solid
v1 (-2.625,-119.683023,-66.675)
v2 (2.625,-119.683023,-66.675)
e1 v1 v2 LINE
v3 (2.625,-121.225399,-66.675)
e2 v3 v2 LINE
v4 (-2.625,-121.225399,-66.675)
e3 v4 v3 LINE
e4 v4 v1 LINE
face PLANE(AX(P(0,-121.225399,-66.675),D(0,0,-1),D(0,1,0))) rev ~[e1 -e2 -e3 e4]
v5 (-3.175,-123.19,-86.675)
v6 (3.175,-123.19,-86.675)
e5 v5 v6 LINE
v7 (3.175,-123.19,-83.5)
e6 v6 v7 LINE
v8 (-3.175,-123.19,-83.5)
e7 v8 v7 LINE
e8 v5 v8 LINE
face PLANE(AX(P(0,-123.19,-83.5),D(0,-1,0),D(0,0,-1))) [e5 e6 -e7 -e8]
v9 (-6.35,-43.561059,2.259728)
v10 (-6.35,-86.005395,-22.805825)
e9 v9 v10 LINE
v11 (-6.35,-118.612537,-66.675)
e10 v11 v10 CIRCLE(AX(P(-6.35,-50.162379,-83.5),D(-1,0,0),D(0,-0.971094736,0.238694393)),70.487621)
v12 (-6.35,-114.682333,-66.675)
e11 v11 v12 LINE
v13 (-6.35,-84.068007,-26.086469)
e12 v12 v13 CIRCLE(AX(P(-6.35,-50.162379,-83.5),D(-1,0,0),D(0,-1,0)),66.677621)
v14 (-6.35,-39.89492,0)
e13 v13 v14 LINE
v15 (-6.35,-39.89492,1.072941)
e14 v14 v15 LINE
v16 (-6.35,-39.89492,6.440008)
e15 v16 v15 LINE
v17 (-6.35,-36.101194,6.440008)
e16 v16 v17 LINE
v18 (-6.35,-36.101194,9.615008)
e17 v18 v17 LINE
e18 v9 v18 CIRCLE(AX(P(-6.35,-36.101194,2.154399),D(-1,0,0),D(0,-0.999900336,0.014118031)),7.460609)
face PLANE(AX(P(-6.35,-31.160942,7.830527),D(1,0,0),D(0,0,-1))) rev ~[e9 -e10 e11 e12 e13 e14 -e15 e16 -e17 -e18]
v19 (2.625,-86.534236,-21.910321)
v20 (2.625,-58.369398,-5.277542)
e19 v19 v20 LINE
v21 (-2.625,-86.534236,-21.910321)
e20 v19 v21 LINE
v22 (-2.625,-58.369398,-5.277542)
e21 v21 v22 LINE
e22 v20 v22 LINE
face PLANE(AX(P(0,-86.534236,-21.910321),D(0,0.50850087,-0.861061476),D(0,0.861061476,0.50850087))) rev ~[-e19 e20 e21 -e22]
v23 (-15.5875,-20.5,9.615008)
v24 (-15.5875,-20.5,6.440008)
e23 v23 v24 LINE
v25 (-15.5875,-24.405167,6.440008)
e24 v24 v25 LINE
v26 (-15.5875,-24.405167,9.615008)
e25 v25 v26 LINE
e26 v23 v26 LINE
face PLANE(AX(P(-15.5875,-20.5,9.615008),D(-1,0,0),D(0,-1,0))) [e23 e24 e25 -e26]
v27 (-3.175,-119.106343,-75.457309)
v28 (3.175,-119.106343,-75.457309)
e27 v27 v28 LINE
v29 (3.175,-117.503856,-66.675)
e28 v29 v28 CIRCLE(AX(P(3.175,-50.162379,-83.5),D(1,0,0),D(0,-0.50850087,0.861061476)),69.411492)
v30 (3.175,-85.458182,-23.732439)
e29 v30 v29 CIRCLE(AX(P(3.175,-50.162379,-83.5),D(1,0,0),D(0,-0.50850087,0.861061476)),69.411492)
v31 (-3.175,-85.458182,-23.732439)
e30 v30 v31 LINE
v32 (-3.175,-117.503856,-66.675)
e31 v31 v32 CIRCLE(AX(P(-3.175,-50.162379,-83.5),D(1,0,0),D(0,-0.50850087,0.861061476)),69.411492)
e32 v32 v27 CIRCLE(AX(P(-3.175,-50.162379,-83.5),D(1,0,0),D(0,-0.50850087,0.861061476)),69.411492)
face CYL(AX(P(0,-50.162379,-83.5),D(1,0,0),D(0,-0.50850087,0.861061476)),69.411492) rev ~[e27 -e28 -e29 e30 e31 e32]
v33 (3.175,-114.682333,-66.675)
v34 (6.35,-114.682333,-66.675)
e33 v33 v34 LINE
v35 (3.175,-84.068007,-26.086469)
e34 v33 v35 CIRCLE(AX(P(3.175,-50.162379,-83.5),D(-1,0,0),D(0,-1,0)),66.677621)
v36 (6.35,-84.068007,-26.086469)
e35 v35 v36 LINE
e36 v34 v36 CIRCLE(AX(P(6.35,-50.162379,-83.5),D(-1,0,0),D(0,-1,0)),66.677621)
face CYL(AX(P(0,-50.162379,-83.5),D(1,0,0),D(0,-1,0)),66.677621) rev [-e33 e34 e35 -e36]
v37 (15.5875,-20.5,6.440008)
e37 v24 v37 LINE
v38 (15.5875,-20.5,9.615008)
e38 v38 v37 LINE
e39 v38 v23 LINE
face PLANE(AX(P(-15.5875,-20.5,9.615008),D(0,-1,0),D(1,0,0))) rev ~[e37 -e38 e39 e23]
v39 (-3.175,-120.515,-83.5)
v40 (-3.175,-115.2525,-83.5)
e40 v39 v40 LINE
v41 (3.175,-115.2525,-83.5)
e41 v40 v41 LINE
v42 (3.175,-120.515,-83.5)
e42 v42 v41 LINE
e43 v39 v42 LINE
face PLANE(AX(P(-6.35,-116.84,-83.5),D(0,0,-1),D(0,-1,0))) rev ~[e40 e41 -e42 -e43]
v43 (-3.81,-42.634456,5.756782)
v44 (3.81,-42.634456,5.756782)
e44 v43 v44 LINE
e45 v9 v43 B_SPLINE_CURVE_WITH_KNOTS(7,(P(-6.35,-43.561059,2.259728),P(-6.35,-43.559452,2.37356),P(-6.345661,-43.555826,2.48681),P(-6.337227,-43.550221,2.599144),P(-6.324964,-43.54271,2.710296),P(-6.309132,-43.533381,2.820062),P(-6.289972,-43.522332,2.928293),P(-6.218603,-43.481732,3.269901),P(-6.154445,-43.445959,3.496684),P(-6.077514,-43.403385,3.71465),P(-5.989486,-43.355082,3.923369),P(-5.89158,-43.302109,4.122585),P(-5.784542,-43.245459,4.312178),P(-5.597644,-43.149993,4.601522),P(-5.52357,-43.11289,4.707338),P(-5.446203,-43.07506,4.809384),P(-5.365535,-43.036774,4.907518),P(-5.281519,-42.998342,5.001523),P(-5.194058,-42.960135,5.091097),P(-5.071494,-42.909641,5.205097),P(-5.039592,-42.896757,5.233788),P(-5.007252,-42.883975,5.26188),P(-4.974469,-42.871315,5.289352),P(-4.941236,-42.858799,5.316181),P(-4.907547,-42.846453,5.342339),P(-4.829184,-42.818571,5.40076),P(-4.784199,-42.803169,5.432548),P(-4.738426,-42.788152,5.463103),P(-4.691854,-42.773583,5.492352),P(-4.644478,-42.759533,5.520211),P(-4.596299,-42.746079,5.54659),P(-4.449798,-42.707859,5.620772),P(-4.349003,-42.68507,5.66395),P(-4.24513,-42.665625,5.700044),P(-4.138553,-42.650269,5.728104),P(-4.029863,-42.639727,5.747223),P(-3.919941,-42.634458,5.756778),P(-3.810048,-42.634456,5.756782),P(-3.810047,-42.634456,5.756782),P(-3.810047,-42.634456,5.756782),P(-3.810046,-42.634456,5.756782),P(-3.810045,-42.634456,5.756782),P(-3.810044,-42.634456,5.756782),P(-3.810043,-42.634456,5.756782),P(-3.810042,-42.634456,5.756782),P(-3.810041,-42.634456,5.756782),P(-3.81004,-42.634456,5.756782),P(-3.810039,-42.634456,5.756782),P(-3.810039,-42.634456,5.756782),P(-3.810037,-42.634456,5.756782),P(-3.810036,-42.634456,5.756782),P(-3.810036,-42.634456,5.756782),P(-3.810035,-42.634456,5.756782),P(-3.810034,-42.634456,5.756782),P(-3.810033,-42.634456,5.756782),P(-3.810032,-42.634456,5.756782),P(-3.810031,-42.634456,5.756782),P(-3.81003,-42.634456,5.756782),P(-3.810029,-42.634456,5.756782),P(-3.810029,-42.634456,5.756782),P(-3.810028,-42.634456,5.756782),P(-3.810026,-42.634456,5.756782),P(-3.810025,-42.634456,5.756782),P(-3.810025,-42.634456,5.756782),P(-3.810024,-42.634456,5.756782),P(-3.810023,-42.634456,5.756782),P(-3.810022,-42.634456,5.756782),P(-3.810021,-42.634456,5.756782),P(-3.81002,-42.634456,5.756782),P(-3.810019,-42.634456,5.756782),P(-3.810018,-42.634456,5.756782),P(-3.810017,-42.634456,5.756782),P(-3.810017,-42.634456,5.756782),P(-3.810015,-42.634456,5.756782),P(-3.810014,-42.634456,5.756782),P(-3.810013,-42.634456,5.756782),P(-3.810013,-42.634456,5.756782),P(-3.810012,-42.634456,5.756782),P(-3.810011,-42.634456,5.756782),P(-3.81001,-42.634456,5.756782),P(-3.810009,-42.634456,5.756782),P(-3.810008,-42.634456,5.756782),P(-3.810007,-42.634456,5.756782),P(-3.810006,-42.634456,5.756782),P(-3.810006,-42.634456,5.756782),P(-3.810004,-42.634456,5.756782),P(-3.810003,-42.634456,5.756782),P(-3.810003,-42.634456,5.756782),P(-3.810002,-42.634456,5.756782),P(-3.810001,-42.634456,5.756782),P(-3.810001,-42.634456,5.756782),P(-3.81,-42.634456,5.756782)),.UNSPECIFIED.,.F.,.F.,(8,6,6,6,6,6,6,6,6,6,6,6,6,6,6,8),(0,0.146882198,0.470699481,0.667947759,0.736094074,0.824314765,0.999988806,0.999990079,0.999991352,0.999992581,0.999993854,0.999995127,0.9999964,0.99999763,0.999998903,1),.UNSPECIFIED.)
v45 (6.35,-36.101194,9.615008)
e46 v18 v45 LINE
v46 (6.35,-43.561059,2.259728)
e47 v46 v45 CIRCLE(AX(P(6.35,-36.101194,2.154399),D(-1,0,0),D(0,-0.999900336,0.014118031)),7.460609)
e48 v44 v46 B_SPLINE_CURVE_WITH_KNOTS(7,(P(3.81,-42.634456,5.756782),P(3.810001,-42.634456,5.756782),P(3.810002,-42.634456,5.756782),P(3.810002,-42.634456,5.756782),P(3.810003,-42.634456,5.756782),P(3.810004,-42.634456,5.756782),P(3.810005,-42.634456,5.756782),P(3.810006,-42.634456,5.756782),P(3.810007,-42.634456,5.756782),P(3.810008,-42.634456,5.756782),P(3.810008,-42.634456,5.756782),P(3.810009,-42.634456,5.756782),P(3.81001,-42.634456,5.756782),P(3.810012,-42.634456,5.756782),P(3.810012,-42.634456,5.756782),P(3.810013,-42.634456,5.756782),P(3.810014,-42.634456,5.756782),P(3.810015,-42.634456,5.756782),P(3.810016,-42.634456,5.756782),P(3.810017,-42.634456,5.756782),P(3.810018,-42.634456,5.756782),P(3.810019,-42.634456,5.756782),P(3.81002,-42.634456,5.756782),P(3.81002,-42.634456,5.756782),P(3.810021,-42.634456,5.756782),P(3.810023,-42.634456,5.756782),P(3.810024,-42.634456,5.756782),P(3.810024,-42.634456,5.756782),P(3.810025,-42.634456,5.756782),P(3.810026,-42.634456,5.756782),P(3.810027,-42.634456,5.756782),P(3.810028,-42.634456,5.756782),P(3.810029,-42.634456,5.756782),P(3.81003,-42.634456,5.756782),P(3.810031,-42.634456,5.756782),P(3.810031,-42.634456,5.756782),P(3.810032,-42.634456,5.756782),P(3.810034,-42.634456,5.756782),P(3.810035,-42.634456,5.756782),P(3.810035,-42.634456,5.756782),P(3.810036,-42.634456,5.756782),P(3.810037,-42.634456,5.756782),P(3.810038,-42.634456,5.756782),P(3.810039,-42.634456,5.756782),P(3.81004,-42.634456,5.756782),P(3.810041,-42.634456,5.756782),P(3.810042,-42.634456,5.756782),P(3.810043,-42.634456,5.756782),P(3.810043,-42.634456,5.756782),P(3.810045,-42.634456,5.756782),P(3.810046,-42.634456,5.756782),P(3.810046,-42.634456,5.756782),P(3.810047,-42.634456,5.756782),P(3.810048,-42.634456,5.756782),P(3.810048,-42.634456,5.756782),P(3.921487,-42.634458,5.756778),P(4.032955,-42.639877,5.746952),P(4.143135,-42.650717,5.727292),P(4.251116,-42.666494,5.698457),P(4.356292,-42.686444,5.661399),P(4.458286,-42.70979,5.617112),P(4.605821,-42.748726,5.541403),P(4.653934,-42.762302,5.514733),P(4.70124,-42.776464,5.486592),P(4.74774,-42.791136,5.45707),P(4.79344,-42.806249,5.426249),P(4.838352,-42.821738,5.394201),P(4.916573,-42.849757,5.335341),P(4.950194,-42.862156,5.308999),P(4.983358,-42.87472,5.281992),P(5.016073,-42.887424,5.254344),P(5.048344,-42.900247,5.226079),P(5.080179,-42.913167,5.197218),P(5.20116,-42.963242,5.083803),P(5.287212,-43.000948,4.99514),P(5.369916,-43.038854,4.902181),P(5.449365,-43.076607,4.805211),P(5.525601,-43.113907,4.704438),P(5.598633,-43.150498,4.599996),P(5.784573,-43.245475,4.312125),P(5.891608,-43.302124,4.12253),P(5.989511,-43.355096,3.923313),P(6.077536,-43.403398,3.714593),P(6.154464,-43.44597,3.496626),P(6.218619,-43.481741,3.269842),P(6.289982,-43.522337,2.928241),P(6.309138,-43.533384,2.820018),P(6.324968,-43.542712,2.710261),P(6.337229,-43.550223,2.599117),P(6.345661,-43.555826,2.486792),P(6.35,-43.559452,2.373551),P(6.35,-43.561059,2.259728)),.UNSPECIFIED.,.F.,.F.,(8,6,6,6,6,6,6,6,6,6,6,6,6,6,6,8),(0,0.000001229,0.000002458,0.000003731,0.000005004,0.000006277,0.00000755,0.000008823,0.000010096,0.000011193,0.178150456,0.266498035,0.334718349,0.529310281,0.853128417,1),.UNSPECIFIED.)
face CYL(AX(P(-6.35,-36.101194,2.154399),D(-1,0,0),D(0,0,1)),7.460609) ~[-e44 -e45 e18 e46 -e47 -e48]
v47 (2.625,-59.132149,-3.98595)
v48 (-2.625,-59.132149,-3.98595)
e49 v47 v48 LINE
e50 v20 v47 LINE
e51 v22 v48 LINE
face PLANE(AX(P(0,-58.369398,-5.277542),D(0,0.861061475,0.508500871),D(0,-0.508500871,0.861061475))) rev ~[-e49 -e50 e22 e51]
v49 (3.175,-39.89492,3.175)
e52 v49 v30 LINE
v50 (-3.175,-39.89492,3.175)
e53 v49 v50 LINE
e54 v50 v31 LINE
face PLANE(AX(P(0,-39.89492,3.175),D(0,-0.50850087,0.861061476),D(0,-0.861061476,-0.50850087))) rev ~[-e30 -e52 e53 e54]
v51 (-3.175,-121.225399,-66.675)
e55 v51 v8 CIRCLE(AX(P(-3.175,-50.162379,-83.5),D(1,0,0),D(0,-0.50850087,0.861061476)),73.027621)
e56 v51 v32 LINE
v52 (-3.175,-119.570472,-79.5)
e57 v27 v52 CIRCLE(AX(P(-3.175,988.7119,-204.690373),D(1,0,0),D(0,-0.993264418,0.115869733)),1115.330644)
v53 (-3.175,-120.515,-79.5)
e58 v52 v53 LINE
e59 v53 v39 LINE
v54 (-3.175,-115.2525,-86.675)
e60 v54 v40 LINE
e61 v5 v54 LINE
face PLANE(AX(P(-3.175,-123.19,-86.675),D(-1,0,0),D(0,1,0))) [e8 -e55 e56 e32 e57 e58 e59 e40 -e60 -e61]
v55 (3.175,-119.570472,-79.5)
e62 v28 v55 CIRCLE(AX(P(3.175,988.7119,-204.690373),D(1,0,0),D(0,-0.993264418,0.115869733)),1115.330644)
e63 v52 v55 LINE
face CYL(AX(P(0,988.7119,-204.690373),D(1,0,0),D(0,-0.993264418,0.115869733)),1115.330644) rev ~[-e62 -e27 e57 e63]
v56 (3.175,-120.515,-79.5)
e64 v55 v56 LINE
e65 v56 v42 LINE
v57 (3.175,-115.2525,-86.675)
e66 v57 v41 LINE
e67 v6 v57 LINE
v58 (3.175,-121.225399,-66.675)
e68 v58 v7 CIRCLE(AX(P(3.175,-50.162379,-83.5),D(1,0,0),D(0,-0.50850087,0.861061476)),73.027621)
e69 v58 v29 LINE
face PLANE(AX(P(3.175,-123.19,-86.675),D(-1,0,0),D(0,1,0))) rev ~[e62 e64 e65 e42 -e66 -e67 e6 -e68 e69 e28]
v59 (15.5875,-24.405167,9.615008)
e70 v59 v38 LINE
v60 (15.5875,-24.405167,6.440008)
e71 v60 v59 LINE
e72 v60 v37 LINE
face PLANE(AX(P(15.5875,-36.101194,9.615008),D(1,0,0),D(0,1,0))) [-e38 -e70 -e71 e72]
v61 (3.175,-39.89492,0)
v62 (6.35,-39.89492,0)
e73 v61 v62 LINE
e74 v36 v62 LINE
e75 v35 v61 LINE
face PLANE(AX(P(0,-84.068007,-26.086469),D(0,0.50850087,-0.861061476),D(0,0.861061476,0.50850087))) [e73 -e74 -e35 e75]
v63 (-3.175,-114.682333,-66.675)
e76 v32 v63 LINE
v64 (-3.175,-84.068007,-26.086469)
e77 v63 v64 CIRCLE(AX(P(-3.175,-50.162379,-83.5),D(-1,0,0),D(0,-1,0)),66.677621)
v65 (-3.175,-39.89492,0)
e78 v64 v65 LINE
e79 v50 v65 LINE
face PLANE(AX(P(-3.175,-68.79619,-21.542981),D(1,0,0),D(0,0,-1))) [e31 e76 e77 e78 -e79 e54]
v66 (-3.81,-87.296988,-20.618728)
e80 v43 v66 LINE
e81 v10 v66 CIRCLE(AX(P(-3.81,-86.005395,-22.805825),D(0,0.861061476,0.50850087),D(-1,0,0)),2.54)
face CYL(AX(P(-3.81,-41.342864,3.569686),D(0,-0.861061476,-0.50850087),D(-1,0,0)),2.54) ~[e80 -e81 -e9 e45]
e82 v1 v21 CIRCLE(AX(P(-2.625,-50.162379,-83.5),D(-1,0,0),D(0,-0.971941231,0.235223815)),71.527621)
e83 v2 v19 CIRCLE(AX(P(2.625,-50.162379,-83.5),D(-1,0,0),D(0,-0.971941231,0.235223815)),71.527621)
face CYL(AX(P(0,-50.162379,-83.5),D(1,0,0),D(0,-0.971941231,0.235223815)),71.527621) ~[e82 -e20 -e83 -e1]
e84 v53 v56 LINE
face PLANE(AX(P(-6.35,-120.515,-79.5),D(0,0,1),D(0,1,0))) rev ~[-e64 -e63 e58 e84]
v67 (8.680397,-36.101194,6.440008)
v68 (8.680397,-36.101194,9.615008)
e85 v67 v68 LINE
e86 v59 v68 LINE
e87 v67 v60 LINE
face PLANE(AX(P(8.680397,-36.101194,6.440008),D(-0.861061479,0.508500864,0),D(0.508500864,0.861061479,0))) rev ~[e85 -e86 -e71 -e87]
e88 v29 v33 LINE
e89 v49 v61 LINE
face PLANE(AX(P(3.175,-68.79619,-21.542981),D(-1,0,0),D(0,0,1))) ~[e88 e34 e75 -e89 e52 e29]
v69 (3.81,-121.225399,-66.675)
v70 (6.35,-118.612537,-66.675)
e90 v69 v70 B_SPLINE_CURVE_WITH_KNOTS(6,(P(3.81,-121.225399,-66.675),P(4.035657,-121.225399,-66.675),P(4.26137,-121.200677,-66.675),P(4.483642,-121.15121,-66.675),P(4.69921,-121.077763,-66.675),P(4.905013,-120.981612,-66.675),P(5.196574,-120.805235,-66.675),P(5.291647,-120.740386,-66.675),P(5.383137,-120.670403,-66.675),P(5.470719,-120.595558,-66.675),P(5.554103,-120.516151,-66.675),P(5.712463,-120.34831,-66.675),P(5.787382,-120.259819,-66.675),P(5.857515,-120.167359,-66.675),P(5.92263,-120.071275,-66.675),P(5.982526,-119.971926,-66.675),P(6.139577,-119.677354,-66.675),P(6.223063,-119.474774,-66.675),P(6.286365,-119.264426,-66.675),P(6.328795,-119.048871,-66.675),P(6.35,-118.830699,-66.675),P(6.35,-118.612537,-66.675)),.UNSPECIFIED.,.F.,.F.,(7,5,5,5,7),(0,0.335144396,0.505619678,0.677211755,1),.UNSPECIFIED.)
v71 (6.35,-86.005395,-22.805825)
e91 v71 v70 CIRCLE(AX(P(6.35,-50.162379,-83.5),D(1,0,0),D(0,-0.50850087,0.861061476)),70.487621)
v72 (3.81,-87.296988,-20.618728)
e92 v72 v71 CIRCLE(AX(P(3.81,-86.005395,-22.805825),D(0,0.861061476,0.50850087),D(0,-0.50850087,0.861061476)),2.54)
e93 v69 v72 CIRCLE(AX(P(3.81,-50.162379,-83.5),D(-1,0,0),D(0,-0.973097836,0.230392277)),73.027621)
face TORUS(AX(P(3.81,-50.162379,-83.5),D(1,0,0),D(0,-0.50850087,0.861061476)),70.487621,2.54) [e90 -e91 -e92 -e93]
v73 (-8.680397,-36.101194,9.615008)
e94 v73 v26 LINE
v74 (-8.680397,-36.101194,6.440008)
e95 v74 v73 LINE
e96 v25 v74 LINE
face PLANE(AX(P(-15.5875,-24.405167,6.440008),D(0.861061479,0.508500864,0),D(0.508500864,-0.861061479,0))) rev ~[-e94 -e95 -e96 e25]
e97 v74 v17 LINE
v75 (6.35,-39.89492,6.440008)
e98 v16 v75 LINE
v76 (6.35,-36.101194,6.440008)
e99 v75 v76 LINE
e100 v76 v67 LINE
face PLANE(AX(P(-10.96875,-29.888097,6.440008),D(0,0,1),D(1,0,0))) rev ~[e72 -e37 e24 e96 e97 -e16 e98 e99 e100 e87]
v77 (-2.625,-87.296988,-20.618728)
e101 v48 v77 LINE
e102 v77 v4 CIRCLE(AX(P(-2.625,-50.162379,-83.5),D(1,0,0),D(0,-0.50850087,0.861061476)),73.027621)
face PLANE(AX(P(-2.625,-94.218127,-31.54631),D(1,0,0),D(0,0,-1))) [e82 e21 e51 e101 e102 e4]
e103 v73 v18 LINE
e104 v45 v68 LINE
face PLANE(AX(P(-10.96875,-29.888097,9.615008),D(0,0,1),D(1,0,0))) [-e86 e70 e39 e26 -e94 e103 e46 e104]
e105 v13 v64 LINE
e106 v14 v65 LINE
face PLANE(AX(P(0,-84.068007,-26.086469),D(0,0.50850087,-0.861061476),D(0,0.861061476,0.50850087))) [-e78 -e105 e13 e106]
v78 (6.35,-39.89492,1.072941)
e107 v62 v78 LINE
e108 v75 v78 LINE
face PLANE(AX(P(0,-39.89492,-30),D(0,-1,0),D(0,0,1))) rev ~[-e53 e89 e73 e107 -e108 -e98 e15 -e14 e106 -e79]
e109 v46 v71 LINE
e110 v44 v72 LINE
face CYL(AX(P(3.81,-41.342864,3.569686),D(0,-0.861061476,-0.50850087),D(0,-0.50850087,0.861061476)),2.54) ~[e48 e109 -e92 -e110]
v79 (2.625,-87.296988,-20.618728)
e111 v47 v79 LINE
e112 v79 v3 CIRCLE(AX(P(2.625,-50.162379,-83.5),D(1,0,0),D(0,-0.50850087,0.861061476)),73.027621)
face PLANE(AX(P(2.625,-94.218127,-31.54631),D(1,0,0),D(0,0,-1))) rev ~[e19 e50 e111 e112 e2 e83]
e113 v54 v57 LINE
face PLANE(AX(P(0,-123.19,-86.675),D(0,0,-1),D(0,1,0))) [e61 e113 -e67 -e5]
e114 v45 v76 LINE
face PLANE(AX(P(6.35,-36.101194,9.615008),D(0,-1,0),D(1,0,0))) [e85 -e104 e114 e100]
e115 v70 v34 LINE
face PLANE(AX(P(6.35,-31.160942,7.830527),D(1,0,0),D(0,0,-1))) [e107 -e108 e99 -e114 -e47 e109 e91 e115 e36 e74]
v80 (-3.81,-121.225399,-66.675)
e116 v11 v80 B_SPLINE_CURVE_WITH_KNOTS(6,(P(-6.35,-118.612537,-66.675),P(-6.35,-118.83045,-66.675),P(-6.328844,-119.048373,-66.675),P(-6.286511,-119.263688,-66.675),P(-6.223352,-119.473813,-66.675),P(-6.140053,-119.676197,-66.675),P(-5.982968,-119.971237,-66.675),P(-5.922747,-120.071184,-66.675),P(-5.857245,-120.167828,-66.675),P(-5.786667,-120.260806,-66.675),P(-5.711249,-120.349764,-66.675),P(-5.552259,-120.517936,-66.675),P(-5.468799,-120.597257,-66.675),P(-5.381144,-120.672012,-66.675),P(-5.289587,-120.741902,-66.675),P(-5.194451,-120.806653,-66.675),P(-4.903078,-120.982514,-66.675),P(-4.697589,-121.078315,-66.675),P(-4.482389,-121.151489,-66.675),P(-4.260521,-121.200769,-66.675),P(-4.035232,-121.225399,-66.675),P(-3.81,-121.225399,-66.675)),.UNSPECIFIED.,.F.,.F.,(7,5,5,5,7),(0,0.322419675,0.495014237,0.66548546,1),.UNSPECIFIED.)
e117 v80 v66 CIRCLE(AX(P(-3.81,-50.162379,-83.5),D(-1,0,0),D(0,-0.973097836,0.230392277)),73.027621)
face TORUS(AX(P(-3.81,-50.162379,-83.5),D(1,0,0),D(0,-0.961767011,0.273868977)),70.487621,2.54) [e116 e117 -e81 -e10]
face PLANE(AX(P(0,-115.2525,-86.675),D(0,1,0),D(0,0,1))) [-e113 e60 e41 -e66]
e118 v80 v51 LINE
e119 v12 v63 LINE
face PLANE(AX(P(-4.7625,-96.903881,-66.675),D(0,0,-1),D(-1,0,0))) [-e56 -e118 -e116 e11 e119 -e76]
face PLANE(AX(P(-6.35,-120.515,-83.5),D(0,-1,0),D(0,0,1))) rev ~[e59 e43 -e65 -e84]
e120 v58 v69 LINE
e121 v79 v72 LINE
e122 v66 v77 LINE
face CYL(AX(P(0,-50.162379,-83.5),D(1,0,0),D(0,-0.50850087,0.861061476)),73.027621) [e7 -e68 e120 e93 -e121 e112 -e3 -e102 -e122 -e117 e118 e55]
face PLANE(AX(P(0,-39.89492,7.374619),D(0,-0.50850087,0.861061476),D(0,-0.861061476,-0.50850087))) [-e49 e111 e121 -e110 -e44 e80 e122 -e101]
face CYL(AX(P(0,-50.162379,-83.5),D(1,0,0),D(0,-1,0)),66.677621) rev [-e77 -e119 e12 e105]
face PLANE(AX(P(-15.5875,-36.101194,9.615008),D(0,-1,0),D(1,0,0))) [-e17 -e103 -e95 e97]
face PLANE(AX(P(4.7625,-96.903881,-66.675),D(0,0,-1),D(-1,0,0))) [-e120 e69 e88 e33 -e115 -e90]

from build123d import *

# Parameters (mm, degrees)
SKETCH5_W           = 12.880016042
SKETCH5_H           = 15.834691301
CUT_EXTRUDE2_DEPTH  = 7.62
CUT_EXTRUDE6_REACH  = 62
SKETCH11_W          = 3.175
SKETCH11_H          = 3.175
BOSS_EXTRUDE1_DEPTH = 6.35
CUT_EXTRUDE4_DEPTH  = 3.175
SKETCH10_W          = 4
SKETCH10_H          = 0.5
CUT_EXTRUDE5_DEPTH  = 37.349999944
CUT_EXTRUDE7_DEPTH  = 40.64
BOSS_EXTRUDE3_DEPTH = 12.7
SKETCH19_W          = 21.319602533
SKETCH19_H          = 36.10119369
CUT_EXTRUDE10_DEPTH = 13.7
SKETCH21_W          = 9.2375
SKETCH21_H          = 12.42619369
SKETCH21_H_2        = 3.175
BOSS_EXTRUDE4_DEPTH = 3.175
SKETCH17_W          = 3.175
SKETCH17_H          = 52.572237063
CUT_EXTRUDE9_DEPTH  = 20
CUT_EXTRUDE11_DEPTH = 4.175
CUT_EXTRUDE12_DEPTH = 2.625
FILLET1_R           = 2.54


with BuildPart() as part:
    # Sketch2 → Revolve1 (revolve)
    with BuildSketch(Plane(origin=(0, 0, 0), x_dir=(0, 0, -1), z_dir=(1, 0, 0))):
        Polygon((0, -50.8), (-29.999999944, 0), (0, 0), align=None)
    revolve(axis=Axis((0, 0, 0), (0, -1, 0)))

    # Sketch4 → Cut-Revolve1 (revolve, cut)
    with BuildSketch(Plane(origin=(0, 0, 0), x_dir=(0, 0, -1), z_dir=(1, 0, 0))):
        Polygon((0, -45.72), (-24.919999944, 0), (0, 0), align=None)
    revolve(axis=Axis((0, 16.11457811, 0), (0, -1, 0)), mode=Mode.SUBTRACT)

    # Sketch5 → Cut-Extrude2 (cut, symmetric)
    with BuildSketch(Plane(origin=(0, 0, 0), x_dir=(0, 0, -1), z_dir=(1, 0, 0))):
        with Locations((0, -47.812265381)):
            Rectangle(SKETCH5_W, SKETCH5_H)
    extrude(amount=CUT_EXTRUDE2_DEPTH, both=True, mode=Mode.SUBTRACT)

    # Sketch11 → Cut-Extrude6 (cut, up to next)
    with BuildSketch(Plane.XY.offset(29.999999944), mode=Mode.PRIVATE) as cut_extrude6_sk1:
        with Locations((4.7625, -1.5875)):
            Rectangle(SKETCH11_W, SKETCH11_H)
    cut_extrude6_tool1 = extrude(cut_extrude6_sk1.sketch, amount=-CUT_EXTRUDE6_REACH, mode=Mode.PRIVATE) & part.part
    add(cut_extrude6_tool1.solids().sort_by_distance((4.7625, -1.5875, 30))[0], mode=Mode.SUBTRACT)
    # Sketch11 → Cut-Extrude6 (cut, up to next)
    with BuildSketch(Plane.XY.offset(29.999999944), mode=Mode.PRIVATE) as cut_extrude6_sk2:
        with Locations((-4.7625, -1.5875)):
            Rectangle(SKETCH11_W, SKETCH11_H)
    cut_extrude6_tool2 = extrude(cut_extrude6_sk2.sketch, amount=-CUT_EXTRUDE6_REACH, mode=Mode.PRIVATE) & part.part
    add(cut_extrude6_tool2.solids().sort_by_distance((-4.7625, -1.5875, 30))[0], mode=Mode.SUBTRACT)

    # Sketch6 → Boss-Extrude1 (add, symmetric)
    with BuildSketch(Plane(origin=(0, 0, 0), x_dir=(0, 0, -1), z_dir=(1, 0, 0))):
        with BuildLine():
            Line((0, -39.89491973), (-7.374618631, -39.89491973))
            Line((-7.374618631, -39.89491973), (20.618728491, -87.296987611))
            ThreePointArc((20.618728491, -87.296987611), (38.876637468, -107.970587413), (63.5, -120.397935747))
            ThreePointArc((63.5, -120.397935747), (73.403024923, -122.48861576), (83.5, -123.19))
            Line((83.5, -123.19), (86.675, -123.19))
            Line((86.675, -123.19), (86.675, -115.2525))
            Line((86.675, -115.2525), (83.5, -115.2525))
            Line((83.5, -115.2525), (83.5, -116.84))
            ThreePointArc((83.5, -116.84), (50.445813134, -108.070287624), (26.086468861, -84.068007083))
            Line((26.086468861, -84.068007083), (0, -39.89491973))
        make_face()
        Polygon((-30.934610553, 0), (-7.374618631, -39.89491973), (0, -39.89491973), (-23.559991923, 0), align=None)
    extrude(amount=BOSS_EXTRUDE1_DEPTH, both=True)

    # Sketch7 → Cut-Extrude4 (cut)
    with BuildSketch(Plane(origin=(0, 0, 0), x_dir=(0, 0, -1), z_dir=(1, 0, 0))):
        with BuildLine():
            Line((-3.175, -39.89491973), (23.732438565, -85.458182452))
            ThreePointArc((23.732438565, -85.458182452), (45.650201216, -108.346121156), (75.457309, -119.106343424))
            ThreePointArc((75.457309, -119.106343424), (79.477830242, -119.567967375), (83.5, -120.015))
            Line((83.5, -120.015), (83.5, -116.84))
            ThreePointArc((83.5, -116.84), (50.445813134, -108.070287624), (26.086468861, -84.068007083))
            Line((26.086468861, -84.068007083), (-23.559991923, 0))
            Line((-23.559991923, 0), (-26.734991923, 0))
            Line((-26.734991923, 0), (-3.175, -39.89491973))
        make_face()
    cut_extrude4 = extrude(amount=-CUT_EXTRUDE4_DEPTH, mode=Mode.SUBTRACT)

    # Mirror1: Cut-Extrude4 across plane
    add(cut_extrude4.mirror(Plane(origin=(0, 0, 0), x_dir=(0, 0, 1), z_dir=(1, 0, 0))), mode=Mode.SUBTRACT)

    # Sketch9 → Cut-Revolve2 (revolve, cut)
    with BuildSketch(Plane(origin=(0, 0, 0), x_dir=(0, 0, -1), z_dir=(1, 0, 0))):
        Polygon((0, 0), (-24.9199908, 0), (-0.536470716, -39.89491973), (0, -39.89491973), align=None)
    revolve(axis=Axis((0, 16.11457811, 0), (0, -1, 0)), mode=Mode.SUBTRACT)

    # Sketch10 → Cut-Extrude5 (cut, through all)
    with BuildSketch(Plane.ZY.offset(6.35)):
        with BuildLine():
            Line((-79.5, -120.015), (-79.5, -116.719911574))
            ThreePointArc((-79.5, -116.719911574), (-81.499098876, -116.809971132), (-83.5, -116.84))
            Line((-83.5, -116.84), (-83.5, -120.015))
            Line((-83.5, -120.015), (-79.5, -120.015))
        make_face()
        with Locations((-81.5, -120.265)):
            Rectangle(SKETCH10_W, SKETCH10_H)
    extrude(amount=-CUT_EXTRUDE5_DEPTH, mode=Mode.SUBTRACT)

    # Sketch12 → Cut-Extrude7 (cut, symmetric)
    with BuildSketch(Plane.ZY):
        Polygon((30, 0), (-29.999999944, 0), (-29.999999944, -39.89491973), (-6.440008021, -39.89491973), (6.44000802, -39.89491973), align=None)
    extrude(amount=CUT_EXTRUDE7_DEPTH, both=True, mode=Mode.SUBTRACT)

    # Sketch18 → Boss-Extrude3 (add)
    with BuildSketch(Plane.ZY.offset(6.35)):
        with BuildLine():
            Line((6.44000802, -39.89491973), (6.44000802, -20.5))
            Line((6.44000802, -20.5), (9.61500802, -20.5))
            Line((9.61500802, -20.5), (9.61500802, -34.5185864))
            Line((9.61500802, -34.5185864), (9.61500802, -36.10119369))
            ThreePointArc((9.61500802, -36.10119369), (8.57844205, -39.89491973), (5.756782033, -42.634456374))
            Line((5.756782033, -42.634456374), (6.44000802, -41.477527034))
            Line((6.44000802, -41.477527034), (6.44000802, -39.89491973))
        make_face()
    extrude(amount=-BOSS_EXTRUDE3_DEPTH)

    # Sketch19 → Cut-Extrude10 (cut, through all)
    with BuildSketch(Plane.ZY.offset(6.35)):
        with Locations((20.274809287, -18.050596845)):
            Rectangle(SKETCH19_W, SKETCH19_H)
    extrude(amount=-CUT_EXTRUDE10_DEPTH, mode=Mode.SUBTRACT)

    # Sketch21 → Boss-Extrude4 (add)
    with BuildSketch(Plane.XY.offset(9.61500802)):
        with Locations((-10.96875, -29.888096845)):
            Rectangle(SKETCH21_W, SKETCH21_H)
        with Locations((10.96875, -29.888096845)):
            Rectangle(SKETCH21_W, SKETCH21_H)
        with Locations((10.96875, -22.0875)):
            Rectangle(SKETCH21_W, SKETCH21_H_2)
        with Locations((-10.96875, -22.0875)):
            Rectangle(SKETCH21_W, SKETCH21_H_2)
    extrude(amount=-BOSS_EXTRUDE4_DEPTH)

    # Sketch17 → Cut-Extrude9 (cut)
    with BuildSketch(Plane(origin=(0, 0, -86.675), x_dir=(-1, 0, 0), z_dir=(0, 0, -1))):
        with Locations((-4.7625, -96.903881469)):
            Rectangle(SKETCH17_W, SKETCH17_H)
        with Locations((4.7625, -96.903881469)):
            Rectangle(SKETCH17_W, SKETCH17_H)
    extrude(amount=-CUT_EXTRUDE9_DEPTH, mode=Mode.SUBTRACT)

    # Sketch22 → Cut-Extrude11 (cut, through all)
    with BuildSketch(Plane(origin=(0, 0, 6.44000802), x_dir=(-1, 0, 0), z_dir=(0, 0, -1))):
        Polygon((-15.5875, -24.405166536), (-15.5875, -36.10119369), (-8.680397482, -36.10119369), align=None)
        Polygon((15.5875, -24.405166536), (8.680397482, -36.10119369), (15.5875, -36.10119369), align=None)
    extrude(amount=-CUT_EXTRUDE11_DEPTH, mode=Mode.SUBTRACT)

    # Sketch24 → Cut-Extrude12 (cut, symmetric)
    with BuildSketch(Plane(origin=(0, 0, 0), x_dir=(0, 0, -1), z_dir=(1, 0, 0))):
        with BuildLine():
            Line((3.985949874, -59.1321491), (20.618728491, -87.296987611))
            ThreePointArc((20.618728491, -87.296987611), (40.186529767, -108.958439573), (66.675, -121.22539896))
            Line((66.675, -121.22539896), (66.675, -119.683023005))
            ThreePointArc((66.675, -119.683023005), (40.93327594, -107.645198887), (21.910320704, -86.534236305))
            Line((21.910320704, -86.534236305), (5.277542087, -58.369397794))
            Line((5.277542087, -58.369397794), (3.985949874, -59.1321491))
        make_face()
    extrude(amount=CUT_EXTRUDE12_DEPTH, both=True, mode=Mode.SUBTRACT)

    # Fillet1
    fillet1_edges = [part.edges().sort_by_distance(p)[0] for p in [
        (6.35, -64.965721992, -7.430973229),
        (6.35, -108.958439573, -40.186529767),
        (-6.35, -64.965721992, -7.430973229),
        (-6.35, -108.958439573, -40.186529767),
    ]]
    fillet(fillet1_edges, radius=FILLET1_R)


solid = part.part
